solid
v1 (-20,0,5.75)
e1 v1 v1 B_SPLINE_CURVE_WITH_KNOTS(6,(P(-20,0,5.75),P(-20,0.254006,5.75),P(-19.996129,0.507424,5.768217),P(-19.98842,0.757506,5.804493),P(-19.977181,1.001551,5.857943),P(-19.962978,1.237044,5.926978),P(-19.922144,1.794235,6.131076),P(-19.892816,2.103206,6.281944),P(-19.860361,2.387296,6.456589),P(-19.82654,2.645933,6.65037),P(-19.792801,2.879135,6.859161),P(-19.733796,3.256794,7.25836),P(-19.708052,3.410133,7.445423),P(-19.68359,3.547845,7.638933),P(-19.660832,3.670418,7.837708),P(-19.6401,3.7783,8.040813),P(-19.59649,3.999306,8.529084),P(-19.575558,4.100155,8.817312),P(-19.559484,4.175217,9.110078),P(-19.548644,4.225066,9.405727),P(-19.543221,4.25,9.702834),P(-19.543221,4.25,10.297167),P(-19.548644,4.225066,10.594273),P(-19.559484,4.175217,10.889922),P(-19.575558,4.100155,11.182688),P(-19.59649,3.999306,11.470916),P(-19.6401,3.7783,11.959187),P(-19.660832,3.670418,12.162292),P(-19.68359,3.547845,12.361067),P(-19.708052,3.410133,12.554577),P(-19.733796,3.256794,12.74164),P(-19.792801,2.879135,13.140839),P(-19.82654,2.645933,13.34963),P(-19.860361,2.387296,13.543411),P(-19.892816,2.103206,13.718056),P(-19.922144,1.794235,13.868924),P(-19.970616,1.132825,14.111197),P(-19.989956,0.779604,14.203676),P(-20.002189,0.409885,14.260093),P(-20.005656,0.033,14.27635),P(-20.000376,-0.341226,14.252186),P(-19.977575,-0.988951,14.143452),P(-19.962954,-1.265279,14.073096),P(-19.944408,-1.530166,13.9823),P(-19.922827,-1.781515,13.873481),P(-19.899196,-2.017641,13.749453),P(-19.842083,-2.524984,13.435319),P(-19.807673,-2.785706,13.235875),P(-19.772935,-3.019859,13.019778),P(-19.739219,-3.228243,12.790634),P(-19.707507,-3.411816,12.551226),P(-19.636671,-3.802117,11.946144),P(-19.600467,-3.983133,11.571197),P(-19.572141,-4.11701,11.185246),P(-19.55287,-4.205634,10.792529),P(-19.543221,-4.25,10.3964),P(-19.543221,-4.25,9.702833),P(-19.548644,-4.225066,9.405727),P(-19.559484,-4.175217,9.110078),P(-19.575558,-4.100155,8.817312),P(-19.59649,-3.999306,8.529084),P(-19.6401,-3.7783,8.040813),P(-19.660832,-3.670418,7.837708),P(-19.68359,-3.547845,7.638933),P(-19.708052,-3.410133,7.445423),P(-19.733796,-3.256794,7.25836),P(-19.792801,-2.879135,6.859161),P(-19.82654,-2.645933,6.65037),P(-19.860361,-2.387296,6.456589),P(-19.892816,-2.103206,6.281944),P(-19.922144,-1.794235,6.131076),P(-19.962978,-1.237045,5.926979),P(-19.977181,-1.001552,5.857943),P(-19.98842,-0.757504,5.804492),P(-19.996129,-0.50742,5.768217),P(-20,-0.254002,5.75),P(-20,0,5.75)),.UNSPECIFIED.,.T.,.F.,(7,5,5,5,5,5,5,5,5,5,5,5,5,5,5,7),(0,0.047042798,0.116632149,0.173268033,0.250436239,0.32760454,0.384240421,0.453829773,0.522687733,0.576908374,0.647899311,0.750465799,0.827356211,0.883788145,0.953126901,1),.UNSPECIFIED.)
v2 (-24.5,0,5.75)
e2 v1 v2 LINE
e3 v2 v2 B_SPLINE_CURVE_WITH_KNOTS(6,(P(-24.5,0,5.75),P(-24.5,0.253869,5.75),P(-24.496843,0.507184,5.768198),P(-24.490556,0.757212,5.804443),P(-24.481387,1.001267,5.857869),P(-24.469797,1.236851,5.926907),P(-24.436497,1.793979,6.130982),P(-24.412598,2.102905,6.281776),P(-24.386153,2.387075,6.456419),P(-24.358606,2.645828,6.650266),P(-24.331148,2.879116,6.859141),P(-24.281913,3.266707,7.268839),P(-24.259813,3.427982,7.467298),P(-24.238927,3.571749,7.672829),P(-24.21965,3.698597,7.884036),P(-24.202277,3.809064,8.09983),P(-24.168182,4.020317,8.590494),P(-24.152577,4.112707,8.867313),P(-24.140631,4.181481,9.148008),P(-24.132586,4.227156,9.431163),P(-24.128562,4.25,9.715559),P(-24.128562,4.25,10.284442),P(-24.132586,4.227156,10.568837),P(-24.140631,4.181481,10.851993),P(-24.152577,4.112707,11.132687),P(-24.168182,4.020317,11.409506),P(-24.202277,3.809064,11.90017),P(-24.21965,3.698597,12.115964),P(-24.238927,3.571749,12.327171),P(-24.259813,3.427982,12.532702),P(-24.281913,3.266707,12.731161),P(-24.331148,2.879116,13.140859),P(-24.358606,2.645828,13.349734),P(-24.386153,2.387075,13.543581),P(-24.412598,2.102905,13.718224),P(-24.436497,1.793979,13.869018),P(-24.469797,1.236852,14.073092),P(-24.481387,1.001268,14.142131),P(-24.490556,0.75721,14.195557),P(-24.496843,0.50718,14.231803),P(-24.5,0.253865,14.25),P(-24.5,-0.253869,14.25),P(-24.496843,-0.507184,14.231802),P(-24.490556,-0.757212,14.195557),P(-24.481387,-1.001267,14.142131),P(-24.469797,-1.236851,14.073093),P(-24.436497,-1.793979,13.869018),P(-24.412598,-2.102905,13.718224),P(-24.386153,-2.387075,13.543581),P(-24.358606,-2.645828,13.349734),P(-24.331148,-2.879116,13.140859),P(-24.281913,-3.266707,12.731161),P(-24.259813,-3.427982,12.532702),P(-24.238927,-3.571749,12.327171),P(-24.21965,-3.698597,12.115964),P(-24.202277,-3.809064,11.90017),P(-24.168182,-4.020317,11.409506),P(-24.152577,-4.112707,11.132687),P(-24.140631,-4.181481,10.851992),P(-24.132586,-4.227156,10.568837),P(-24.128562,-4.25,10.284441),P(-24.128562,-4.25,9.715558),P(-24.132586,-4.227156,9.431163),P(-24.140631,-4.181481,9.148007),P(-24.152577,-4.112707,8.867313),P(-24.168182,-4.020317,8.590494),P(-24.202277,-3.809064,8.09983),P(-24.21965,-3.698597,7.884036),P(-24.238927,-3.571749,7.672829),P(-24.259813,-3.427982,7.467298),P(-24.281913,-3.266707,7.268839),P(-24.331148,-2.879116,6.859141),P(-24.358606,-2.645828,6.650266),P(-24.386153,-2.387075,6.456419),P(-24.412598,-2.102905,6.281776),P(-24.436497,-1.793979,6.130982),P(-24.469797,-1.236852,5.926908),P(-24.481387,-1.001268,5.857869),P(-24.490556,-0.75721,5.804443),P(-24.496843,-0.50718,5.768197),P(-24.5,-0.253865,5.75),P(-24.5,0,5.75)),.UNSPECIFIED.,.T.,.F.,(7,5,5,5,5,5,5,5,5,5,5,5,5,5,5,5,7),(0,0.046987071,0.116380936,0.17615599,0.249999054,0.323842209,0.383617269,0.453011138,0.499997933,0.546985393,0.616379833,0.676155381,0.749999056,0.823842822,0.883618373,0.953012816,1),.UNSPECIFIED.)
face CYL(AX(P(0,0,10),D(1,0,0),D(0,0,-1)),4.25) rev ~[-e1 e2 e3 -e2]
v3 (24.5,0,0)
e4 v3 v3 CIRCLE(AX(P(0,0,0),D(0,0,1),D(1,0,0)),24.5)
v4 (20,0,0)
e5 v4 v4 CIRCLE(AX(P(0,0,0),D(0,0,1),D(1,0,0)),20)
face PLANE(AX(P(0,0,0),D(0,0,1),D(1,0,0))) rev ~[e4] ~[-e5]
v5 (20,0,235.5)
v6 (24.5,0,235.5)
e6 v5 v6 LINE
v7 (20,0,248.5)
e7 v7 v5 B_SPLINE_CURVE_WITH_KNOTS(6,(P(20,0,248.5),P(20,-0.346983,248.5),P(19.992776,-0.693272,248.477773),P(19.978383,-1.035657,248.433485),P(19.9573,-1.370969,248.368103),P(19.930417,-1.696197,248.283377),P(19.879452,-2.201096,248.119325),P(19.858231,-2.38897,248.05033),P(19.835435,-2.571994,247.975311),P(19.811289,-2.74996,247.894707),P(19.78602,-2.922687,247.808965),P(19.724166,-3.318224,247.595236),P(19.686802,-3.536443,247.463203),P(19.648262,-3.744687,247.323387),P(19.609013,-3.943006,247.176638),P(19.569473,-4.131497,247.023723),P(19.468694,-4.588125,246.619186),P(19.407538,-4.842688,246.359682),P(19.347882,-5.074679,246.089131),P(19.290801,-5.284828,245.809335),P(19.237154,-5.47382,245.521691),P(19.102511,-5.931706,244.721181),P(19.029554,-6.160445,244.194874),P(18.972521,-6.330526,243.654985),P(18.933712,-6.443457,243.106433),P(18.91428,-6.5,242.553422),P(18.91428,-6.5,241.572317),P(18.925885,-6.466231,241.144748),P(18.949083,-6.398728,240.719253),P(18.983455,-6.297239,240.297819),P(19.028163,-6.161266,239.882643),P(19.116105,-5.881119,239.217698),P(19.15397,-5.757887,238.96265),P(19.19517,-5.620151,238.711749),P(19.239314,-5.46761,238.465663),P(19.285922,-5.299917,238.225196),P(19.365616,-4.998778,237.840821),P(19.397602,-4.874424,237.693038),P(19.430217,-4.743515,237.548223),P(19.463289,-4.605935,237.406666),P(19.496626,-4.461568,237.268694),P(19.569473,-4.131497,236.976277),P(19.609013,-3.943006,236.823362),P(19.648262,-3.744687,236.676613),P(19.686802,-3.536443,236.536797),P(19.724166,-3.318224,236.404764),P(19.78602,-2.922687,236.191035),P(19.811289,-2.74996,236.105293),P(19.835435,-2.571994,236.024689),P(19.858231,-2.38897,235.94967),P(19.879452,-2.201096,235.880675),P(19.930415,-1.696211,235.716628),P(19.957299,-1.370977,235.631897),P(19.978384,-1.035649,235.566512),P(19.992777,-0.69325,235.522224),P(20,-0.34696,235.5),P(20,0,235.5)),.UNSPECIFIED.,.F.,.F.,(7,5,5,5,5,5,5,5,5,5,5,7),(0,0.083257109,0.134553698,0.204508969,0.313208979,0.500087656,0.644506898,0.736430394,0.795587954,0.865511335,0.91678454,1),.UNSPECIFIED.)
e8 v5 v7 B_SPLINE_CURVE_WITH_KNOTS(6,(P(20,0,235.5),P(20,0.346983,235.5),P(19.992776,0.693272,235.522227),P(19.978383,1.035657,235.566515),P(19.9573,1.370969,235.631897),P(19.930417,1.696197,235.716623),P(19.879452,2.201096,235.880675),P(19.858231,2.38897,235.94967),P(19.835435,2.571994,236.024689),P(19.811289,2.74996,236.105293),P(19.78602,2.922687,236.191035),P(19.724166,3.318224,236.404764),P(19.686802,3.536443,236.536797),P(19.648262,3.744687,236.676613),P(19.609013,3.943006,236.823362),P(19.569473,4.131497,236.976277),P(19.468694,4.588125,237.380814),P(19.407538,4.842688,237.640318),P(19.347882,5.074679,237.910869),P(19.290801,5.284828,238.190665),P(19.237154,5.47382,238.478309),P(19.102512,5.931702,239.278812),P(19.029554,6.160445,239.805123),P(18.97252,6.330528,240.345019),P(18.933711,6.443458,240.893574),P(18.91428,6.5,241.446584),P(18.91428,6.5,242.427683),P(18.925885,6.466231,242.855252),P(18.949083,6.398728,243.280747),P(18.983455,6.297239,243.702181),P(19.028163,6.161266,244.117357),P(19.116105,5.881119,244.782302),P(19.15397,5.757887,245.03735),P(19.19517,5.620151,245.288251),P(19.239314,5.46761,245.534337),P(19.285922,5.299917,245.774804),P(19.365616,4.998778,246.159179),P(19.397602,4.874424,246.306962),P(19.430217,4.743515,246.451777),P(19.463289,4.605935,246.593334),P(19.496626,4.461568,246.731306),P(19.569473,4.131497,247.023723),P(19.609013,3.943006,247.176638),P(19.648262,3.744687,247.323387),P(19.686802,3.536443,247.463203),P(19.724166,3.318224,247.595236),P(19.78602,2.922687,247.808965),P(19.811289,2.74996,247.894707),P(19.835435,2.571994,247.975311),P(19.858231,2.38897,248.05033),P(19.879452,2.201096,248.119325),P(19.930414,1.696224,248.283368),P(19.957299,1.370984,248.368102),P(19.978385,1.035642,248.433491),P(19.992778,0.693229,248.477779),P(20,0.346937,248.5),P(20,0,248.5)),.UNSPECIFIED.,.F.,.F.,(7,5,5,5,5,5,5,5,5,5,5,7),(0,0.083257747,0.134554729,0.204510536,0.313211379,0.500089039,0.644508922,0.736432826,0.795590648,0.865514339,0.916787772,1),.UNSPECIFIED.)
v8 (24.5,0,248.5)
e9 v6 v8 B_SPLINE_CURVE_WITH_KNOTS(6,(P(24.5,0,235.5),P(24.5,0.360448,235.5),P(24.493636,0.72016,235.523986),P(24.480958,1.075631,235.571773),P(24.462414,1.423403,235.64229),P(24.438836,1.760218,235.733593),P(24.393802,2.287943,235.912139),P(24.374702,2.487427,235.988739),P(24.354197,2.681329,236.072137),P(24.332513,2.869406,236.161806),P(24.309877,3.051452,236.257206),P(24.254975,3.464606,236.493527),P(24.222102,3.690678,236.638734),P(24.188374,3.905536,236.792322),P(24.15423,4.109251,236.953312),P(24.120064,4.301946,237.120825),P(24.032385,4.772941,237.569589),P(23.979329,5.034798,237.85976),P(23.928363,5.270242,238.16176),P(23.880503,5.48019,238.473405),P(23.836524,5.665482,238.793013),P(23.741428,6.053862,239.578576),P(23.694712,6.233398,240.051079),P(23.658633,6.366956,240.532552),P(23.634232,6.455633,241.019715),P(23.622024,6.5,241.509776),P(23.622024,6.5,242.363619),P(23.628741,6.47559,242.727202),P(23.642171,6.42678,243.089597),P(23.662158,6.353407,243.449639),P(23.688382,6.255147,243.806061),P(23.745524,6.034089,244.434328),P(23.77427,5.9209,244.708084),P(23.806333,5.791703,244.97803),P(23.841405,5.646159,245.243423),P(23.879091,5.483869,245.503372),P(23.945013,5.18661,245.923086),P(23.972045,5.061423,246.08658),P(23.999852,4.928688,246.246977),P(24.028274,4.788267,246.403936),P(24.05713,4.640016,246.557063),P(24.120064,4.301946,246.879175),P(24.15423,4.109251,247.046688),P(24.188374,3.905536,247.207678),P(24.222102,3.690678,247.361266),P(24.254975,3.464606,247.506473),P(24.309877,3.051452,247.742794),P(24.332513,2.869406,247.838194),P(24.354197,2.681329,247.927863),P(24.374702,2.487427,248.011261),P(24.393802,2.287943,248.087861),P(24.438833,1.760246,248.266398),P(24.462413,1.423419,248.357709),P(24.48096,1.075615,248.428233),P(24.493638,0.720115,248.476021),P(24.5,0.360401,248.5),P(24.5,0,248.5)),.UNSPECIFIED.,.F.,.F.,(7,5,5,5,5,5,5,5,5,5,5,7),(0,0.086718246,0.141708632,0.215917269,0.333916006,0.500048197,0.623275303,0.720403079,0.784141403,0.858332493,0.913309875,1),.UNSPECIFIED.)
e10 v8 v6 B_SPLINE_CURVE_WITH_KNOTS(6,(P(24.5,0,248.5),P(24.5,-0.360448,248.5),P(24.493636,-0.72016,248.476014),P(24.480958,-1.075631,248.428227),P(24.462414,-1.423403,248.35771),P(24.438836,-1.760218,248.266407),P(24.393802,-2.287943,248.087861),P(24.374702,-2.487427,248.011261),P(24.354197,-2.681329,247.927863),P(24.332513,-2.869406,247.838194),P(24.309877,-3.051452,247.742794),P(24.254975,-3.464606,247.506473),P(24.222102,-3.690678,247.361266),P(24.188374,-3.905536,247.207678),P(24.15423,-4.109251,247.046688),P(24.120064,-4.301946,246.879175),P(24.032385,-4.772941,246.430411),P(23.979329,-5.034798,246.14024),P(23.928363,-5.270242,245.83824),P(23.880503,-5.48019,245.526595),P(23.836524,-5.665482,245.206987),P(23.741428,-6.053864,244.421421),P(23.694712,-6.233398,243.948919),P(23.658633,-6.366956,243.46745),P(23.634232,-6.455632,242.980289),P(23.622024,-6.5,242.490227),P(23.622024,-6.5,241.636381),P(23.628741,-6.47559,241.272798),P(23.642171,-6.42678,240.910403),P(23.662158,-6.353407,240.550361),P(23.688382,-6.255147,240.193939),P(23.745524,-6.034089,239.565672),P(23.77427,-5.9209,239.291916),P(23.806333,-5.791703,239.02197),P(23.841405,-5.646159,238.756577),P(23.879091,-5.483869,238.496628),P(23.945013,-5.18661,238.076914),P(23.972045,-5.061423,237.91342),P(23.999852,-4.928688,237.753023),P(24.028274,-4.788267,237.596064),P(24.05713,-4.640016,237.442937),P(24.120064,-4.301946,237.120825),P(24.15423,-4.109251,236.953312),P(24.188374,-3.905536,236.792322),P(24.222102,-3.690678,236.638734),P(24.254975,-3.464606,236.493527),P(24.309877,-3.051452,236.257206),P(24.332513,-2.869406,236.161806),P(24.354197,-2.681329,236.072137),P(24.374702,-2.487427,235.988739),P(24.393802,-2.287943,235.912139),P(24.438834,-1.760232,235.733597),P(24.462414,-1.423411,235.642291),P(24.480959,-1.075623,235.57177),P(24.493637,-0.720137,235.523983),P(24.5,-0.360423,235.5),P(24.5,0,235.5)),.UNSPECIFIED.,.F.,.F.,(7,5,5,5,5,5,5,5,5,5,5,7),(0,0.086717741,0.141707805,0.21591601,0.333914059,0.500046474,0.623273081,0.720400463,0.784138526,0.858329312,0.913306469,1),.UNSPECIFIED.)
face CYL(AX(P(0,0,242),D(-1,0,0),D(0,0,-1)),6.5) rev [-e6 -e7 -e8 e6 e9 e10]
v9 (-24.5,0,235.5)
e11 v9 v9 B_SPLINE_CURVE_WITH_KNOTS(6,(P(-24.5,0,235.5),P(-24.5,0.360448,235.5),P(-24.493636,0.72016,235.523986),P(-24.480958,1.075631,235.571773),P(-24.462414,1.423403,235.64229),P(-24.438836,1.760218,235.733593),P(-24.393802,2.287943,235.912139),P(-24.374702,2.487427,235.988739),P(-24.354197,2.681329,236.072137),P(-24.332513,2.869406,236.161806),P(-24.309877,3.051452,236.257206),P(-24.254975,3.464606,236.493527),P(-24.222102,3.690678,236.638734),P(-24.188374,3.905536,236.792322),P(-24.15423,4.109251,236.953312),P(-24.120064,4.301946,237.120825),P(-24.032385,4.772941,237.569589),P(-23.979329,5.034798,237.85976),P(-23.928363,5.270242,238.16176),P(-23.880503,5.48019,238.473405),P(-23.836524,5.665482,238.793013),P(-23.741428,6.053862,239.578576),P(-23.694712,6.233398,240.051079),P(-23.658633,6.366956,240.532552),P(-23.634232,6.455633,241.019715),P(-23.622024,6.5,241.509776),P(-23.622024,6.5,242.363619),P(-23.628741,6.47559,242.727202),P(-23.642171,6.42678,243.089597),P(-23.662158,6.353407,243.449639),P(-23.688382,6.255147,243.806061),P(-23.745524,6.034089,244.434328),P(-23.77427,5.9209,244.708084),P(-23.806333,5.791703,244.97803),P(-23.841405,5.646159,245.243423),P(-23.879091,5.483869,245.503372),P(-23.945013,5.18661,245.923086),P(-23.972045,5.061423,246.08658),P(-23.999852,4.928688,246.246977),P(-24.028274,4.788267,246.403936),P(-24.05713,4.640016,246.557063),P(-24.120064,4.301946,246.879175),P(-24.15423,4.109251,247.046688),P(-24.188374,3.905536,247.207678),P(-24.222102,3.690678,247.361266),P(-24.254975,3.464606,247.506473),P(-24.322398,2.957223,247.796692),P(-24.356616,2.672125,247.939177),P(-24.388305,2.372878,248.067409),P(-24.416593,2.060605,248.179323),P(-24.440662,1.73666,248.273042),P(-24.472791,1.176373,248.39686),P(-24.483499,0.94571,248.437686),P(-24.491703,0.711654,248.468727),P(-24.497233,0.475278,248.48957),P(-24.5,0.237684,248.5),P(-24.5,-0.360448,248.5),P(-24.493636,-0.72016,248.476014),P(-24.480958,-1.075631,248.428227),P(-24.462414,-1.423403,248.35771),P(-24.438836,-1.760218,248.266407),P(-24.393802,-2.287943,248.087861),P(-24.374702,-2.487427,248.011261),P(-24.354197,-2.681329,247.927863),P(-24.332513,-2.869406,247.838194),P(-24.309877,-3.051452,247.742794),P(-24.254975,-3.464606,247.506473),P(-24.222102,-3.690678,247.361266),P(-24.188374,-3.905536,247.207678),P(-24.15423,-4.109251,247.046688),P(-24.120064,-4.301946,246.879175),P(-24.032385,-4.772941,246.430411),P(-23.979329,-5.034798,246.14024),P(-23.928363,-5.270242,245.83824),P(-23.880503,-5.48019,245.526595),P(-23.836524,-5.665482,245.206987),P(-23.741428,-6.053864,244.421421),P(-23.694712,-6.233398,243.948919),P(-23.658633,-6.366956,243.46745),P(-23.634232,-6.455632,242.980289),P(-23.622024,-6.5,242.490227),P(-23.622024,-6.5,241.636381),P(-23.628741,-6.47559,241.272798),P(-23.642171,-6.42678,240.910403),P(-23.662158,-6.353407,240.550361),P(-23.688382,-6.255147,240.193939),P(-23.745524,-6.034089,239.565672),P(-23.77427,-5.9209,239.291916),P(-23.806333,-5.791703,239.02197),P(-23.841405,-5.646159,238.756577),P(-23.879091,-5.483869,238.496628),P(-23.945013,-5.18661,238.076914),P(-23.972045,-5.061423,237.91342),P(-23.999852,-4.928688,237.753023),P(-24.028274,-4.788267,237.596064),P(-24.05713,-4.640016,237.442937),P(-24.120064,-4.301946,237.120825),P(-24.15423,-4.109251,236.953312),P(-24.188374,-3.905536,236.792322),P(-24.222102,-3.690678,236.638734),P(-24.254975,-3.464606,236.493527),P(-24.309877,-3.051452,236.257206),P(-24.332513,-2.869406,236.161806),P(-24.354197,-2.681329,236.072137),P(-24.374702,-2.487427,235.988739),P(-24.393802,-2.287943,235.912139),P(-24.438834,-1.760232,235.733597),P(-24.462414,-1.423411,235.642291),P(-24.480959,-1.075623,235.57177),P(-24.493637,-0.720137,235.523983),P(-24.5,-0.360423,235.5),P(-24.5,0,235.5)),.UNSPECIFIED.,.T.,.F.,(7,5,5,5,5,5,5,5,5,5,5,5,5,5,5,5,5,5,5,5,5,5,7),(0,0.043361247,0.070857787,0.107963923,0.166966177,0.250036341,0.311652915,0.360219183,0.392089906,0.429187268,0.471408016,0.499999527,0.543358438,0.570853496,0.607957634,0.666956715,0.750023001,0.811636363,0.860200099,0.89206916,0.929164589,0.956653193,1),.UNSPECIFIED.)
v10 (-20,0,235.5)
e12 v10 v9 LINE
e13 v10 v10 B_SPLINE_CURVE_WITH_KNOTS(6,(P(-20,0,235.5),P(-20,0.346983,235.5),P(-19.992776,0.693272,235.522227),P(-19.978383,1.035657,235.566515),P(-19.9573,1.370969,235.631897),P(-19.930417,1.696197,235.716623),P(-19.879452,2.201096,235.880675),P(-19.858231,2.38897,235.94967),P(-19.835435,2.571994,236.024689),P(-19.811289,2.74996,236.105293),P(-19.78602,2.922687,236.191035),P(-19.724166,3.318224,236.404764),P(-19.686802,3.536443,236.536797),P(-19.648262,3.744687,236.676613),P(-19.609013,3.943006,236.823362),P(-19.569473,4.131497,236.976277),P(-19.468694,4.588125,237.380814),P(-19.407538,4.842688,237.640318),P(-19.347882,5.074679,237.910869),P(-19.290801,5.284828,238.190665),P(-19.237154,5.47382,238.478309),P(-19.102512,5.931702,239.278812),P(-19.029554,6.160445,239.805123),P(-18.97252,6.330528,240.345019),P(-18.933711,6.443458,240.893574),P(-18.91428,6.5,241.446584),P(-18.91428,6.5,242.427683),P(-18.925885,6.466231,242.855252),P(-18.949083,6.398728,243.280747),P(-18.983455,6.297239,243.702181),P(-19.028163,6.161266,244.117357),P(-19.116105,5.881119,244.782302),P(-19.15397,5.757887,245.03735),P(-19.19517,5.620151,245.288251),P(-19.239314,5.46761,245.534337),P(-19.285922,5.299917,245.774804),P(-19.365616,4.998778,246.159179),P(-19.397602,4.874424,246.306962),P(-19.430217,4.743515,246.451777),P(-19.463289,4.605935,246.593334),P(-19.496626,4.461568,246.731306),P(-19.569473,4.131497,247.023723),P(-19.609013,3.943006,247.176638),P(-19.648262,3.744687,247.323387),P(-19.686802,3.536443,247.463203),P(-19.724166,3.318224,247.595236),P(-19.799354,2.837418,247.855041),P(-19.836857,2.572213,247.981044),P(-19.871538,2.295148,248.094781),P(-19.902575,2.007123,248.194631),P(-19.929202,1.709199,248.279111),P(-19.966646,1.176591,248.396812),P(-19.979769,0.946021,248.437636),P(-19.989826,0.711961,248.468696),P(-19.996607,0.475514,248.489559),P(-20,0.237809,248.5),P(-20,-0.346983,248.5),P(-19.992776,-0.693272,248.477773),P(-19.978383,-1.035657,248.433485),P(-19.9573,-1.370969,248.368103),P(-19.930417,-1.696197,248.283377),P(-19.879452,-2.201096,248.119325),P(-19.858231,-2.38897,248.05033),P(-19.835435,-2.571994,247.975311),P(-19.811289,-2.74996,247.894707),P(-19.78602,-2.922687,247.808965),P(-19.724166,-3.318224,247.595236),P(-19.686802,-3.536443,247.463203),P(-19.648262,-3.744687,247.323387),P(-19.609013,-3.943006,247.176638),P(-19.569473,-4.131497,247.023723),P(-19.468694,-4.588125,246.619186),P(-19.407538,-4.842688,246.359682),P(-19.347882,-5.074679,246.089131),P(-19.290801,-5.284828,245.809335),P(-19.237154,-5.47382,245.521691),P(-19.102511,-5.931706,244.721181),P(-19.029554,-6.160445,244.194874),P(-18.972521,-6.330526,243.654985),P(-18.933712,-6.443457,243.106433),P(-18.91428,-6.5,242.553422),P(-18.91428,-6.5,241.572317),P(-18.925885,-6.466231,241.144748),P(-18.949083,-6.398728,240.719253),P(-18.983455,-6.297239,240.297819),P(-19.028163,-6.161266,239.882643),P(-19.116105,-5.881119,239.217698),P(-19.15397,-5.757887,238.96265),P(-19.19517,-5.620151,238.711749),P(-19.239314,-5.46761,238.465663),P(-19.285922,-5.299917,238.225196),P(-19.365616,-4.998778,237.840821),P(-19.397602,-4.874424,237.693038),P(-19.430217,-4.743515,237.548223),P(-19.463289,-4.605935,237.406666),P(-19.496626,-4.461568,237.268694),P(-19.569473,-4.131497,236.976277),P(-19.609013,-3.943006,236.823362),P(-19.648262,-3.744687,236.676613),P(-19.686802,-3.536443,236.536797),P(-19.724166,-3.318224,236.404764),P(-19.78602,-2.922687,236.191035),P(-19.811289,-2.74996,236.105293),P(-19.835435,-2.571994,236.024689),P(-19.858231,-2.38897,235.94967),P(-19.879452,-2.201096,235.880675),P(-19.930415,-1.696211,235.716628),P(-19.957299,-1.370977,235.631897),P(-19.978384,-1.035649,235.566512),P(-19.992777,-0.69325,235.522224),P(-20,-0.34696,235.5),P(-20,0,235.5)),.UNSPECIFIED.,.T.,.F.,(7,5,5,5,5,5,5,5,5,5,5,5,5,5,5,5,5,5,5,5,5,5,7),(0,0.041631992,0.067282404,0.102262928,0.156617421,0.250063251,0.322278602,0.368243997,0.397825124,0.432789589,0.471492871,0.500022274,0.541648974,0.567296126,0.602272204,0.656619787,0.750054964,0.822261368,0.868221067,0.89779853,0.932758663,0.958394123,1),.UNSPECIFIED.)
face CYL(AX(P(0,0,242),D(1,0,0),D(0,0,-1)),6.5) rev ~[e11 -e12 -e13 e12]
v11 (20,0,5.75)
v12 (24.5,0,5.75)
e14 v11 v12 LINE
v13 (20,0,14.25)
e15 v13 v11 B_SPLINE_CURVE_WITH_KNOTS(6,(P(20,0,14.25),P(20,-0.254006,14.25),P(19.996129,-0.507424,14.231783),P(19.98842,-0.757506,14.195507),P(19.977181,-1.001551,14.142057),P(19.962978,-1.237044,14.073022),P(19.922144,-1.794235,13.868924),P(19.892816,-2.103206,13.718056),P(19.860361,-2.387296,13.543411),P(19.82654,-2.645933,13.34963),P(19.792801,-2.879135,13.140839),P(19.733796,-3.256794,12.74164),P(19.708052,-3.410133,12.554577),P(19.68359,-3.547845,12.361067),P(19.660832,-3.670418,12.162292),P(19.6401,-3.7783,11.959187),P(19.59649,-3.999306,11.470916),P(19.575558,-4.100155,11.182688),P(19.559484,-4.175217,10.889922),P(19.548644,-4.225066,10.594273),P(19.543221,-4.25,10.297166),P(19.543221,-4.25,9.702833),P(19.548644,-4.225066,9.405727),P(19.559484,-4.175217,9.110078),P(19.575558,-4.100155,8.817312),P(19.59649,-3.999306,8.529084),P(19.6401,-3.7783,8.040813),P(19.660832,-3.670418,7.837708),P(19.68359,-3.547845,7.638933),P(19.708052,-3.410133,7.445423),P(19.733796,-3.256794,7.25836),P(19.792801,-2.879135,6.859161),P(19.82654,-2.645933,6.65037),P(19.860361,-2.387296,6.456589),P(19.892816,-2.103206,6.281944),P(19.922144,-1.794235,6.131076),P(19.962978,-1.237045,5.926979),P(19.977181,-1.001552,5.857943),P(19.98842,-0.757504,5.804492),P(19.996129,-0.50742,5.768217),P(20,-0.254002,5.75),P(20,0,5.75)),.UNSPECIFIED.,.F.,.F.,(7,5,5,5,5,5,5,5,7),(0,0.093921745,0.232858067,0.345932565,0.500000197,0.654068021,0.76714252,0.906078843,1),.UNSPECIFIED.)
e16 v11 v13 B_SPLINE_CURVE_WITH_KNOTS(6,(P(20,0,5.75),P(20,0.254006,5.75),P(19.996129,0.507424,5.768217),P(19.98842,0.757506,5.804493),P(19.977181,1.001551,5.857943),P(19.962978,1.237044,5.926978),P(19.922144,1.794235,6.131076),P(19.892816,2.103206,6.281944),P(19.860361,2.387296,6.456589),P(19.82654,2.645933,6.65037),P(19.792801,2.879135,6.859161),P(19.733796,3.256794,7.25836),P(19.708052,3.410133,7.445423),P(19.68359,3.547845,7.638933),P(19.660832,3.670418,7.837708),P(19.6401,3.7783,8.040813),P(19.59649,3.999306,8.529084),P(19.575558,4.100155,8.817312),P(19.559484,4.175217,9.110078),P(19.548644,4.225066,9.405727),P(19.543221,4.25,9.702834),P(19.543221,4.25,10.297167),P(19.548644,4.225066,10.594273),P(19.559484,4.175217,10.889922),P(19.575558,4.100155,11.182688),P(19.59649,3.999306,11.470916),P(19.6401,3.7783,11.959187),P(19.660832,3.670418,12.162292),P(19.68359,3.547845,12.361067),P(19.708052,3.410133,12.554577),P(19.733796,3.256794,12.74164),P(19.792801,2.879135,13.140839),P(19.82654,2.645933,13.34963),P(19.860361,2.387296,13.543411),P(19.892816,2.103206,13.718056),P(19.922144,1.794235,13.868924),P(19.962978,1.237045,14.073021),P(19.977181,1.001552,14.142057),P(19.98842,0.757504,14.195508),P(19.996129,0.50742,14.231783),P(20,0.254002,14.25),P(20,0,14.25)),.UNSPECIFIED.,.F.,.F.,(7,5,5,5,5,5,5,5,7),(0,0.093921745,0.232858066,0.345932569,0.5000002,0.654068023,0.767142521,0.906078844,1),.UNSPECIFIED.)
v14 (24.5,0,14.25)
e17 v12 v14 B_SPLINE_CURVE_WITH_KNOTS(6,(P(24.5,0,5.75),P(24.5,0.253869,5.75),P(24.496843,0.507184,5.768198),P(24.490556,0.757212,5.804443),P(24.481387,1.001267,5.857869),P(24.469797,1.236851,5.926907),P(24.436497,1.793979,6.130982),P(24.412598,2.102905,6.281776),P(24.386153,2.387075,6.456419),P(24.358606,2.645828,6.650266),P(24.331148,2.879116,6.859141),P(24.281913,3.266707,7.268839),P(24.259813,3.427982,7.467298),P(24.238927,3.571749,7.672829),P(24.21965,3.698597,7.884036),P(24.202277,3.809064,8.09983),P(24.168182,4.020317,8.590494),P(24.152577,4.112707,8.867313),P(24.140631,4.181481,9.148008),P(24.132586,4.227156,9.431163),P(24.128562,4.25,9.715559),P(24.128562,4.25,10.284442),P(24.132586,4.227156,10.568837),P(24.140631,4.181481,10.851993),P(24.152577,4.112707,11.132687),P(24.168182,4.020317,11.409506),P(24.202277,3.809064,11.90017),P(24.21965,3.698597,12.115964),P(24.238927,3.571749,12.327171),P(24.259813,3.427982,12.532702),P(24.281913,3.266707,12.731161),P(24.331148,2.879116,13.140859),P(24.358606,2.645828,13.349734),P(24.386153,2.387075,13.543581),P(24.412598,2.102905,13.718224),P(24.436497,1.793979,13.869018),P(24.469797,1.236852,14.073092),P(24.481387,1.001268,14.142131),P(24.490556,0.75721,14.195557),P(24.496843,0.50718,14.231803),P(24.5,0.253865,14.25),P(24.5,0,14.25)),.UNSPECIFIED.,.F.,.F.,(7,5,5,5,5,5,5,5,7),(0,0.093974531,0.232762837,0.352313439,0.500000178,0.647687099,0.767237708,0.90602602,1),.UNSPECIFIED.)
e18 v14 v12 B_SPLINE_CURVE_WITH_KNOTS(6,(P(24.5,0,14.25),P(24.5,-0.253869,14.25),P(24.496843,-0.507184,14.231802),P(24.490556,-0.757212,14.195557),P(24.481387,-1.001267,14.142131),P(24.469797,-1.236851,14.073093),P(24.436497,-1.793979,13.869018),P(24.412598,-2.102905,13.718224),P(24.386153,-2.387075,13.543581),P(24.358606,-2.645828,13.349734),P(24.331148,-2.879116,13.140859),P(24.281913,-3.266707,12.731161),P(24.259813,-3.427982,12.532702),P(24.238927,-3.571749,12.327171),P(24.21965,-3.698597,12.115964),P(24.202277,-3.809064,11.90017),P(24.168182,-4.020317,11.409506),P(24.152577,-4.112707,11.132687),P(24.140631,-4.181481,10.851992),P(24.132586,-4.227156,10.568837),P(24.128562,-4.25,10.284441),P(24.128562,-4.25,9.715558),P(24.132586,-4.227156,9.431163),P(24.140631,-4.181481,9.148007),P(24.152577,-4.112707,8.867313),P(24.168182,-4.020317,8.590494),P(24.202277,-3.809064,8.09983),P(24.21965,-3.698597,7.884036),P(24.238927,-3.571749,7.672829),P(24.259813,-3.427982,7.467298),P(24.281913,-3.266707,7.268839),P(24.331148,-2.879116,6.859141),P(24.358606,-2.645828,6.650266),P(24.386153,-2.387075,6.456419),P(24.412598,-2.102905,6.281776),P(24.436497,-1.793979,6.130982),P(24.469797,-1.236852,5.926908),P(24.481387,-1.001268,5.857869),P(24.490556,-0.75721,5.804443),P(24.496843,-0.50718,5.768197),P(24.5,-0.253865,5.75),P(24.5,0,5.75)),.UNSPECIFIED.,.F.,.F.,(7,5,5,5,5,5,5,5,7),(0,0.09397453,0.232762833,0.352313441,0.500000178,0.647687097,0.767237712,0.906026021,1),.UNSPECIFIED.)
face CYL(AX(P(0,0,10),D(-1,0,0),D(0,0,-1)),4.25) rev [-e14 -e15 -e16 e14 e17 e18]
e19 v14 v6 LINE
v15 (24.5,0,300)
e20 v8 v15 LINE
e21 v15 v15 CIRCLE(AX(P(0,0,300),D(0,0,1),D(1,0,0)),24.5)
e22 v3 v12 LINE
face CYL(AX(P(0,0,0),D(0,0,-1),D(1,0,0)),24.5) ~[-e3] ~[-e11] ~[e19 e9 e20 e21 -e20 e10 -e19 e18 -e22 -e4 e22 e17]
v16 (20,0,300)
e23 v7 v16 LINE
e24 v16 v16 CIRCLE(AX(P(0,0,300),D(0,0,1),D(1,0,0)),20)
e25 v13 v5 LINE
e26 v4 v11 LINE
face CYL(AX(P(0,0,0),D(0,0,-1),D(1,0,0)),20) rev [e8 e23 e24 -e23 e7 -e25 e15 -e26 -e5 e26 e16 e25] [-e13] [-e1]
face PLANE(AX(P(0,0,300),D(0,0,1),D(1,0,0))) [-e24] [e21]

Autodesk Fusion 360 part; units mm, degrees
sketch "Sketch1" plane through (0, 0, 0) normal (0, 0, 1) x (1, 0, 0)
  circle A0 centre (0, 0) radius 24.5
  circle A1 centre (0, 0) radius 20
  dimension "d1" = 49
  dimension "d2" = 4.5
extrude "Extrude1" add sketch "Sketch1" along normal blind 300
ref_plane "WorkPlane1" through (0, 0, 10) normal (0, 0, 1) x (1, 0, 0)
ref_plane "WorkPlane2" through (0, 0, 300) normal (0, 0, 1) x (1, 0, 0)
ref_plane "WorkPlane3" through (0, 0, 242) normal (0, 0, 1) x (1, 0, 0)
sketch "Sketch2" plane through (0, 0, 0) normal (1, 0, 0) x (0, 0, -1)
  line L0 (-10, 42.4058) -> (-10, 1.4623) construction
  line L1 (-300, 66.3479) -> (-300, -66.3479) construction
  line L2 (-242, 79.6175) -> (-242, -79.6175) construction
  line L3 (-300, 0) -> (0, 0) construction
  line L4 (-10, 1.4623) -> (-10, 0) construction
  circle A0 centre (-10, 0) radius 4.25
  circle A1 centre (-242, 0) radius 6.5
  dimension "d8" = 8.5
  dimension "d9" = 13
extrude "Extrude2" cut sketch "Sketch2" along normal through all and the other way through all
